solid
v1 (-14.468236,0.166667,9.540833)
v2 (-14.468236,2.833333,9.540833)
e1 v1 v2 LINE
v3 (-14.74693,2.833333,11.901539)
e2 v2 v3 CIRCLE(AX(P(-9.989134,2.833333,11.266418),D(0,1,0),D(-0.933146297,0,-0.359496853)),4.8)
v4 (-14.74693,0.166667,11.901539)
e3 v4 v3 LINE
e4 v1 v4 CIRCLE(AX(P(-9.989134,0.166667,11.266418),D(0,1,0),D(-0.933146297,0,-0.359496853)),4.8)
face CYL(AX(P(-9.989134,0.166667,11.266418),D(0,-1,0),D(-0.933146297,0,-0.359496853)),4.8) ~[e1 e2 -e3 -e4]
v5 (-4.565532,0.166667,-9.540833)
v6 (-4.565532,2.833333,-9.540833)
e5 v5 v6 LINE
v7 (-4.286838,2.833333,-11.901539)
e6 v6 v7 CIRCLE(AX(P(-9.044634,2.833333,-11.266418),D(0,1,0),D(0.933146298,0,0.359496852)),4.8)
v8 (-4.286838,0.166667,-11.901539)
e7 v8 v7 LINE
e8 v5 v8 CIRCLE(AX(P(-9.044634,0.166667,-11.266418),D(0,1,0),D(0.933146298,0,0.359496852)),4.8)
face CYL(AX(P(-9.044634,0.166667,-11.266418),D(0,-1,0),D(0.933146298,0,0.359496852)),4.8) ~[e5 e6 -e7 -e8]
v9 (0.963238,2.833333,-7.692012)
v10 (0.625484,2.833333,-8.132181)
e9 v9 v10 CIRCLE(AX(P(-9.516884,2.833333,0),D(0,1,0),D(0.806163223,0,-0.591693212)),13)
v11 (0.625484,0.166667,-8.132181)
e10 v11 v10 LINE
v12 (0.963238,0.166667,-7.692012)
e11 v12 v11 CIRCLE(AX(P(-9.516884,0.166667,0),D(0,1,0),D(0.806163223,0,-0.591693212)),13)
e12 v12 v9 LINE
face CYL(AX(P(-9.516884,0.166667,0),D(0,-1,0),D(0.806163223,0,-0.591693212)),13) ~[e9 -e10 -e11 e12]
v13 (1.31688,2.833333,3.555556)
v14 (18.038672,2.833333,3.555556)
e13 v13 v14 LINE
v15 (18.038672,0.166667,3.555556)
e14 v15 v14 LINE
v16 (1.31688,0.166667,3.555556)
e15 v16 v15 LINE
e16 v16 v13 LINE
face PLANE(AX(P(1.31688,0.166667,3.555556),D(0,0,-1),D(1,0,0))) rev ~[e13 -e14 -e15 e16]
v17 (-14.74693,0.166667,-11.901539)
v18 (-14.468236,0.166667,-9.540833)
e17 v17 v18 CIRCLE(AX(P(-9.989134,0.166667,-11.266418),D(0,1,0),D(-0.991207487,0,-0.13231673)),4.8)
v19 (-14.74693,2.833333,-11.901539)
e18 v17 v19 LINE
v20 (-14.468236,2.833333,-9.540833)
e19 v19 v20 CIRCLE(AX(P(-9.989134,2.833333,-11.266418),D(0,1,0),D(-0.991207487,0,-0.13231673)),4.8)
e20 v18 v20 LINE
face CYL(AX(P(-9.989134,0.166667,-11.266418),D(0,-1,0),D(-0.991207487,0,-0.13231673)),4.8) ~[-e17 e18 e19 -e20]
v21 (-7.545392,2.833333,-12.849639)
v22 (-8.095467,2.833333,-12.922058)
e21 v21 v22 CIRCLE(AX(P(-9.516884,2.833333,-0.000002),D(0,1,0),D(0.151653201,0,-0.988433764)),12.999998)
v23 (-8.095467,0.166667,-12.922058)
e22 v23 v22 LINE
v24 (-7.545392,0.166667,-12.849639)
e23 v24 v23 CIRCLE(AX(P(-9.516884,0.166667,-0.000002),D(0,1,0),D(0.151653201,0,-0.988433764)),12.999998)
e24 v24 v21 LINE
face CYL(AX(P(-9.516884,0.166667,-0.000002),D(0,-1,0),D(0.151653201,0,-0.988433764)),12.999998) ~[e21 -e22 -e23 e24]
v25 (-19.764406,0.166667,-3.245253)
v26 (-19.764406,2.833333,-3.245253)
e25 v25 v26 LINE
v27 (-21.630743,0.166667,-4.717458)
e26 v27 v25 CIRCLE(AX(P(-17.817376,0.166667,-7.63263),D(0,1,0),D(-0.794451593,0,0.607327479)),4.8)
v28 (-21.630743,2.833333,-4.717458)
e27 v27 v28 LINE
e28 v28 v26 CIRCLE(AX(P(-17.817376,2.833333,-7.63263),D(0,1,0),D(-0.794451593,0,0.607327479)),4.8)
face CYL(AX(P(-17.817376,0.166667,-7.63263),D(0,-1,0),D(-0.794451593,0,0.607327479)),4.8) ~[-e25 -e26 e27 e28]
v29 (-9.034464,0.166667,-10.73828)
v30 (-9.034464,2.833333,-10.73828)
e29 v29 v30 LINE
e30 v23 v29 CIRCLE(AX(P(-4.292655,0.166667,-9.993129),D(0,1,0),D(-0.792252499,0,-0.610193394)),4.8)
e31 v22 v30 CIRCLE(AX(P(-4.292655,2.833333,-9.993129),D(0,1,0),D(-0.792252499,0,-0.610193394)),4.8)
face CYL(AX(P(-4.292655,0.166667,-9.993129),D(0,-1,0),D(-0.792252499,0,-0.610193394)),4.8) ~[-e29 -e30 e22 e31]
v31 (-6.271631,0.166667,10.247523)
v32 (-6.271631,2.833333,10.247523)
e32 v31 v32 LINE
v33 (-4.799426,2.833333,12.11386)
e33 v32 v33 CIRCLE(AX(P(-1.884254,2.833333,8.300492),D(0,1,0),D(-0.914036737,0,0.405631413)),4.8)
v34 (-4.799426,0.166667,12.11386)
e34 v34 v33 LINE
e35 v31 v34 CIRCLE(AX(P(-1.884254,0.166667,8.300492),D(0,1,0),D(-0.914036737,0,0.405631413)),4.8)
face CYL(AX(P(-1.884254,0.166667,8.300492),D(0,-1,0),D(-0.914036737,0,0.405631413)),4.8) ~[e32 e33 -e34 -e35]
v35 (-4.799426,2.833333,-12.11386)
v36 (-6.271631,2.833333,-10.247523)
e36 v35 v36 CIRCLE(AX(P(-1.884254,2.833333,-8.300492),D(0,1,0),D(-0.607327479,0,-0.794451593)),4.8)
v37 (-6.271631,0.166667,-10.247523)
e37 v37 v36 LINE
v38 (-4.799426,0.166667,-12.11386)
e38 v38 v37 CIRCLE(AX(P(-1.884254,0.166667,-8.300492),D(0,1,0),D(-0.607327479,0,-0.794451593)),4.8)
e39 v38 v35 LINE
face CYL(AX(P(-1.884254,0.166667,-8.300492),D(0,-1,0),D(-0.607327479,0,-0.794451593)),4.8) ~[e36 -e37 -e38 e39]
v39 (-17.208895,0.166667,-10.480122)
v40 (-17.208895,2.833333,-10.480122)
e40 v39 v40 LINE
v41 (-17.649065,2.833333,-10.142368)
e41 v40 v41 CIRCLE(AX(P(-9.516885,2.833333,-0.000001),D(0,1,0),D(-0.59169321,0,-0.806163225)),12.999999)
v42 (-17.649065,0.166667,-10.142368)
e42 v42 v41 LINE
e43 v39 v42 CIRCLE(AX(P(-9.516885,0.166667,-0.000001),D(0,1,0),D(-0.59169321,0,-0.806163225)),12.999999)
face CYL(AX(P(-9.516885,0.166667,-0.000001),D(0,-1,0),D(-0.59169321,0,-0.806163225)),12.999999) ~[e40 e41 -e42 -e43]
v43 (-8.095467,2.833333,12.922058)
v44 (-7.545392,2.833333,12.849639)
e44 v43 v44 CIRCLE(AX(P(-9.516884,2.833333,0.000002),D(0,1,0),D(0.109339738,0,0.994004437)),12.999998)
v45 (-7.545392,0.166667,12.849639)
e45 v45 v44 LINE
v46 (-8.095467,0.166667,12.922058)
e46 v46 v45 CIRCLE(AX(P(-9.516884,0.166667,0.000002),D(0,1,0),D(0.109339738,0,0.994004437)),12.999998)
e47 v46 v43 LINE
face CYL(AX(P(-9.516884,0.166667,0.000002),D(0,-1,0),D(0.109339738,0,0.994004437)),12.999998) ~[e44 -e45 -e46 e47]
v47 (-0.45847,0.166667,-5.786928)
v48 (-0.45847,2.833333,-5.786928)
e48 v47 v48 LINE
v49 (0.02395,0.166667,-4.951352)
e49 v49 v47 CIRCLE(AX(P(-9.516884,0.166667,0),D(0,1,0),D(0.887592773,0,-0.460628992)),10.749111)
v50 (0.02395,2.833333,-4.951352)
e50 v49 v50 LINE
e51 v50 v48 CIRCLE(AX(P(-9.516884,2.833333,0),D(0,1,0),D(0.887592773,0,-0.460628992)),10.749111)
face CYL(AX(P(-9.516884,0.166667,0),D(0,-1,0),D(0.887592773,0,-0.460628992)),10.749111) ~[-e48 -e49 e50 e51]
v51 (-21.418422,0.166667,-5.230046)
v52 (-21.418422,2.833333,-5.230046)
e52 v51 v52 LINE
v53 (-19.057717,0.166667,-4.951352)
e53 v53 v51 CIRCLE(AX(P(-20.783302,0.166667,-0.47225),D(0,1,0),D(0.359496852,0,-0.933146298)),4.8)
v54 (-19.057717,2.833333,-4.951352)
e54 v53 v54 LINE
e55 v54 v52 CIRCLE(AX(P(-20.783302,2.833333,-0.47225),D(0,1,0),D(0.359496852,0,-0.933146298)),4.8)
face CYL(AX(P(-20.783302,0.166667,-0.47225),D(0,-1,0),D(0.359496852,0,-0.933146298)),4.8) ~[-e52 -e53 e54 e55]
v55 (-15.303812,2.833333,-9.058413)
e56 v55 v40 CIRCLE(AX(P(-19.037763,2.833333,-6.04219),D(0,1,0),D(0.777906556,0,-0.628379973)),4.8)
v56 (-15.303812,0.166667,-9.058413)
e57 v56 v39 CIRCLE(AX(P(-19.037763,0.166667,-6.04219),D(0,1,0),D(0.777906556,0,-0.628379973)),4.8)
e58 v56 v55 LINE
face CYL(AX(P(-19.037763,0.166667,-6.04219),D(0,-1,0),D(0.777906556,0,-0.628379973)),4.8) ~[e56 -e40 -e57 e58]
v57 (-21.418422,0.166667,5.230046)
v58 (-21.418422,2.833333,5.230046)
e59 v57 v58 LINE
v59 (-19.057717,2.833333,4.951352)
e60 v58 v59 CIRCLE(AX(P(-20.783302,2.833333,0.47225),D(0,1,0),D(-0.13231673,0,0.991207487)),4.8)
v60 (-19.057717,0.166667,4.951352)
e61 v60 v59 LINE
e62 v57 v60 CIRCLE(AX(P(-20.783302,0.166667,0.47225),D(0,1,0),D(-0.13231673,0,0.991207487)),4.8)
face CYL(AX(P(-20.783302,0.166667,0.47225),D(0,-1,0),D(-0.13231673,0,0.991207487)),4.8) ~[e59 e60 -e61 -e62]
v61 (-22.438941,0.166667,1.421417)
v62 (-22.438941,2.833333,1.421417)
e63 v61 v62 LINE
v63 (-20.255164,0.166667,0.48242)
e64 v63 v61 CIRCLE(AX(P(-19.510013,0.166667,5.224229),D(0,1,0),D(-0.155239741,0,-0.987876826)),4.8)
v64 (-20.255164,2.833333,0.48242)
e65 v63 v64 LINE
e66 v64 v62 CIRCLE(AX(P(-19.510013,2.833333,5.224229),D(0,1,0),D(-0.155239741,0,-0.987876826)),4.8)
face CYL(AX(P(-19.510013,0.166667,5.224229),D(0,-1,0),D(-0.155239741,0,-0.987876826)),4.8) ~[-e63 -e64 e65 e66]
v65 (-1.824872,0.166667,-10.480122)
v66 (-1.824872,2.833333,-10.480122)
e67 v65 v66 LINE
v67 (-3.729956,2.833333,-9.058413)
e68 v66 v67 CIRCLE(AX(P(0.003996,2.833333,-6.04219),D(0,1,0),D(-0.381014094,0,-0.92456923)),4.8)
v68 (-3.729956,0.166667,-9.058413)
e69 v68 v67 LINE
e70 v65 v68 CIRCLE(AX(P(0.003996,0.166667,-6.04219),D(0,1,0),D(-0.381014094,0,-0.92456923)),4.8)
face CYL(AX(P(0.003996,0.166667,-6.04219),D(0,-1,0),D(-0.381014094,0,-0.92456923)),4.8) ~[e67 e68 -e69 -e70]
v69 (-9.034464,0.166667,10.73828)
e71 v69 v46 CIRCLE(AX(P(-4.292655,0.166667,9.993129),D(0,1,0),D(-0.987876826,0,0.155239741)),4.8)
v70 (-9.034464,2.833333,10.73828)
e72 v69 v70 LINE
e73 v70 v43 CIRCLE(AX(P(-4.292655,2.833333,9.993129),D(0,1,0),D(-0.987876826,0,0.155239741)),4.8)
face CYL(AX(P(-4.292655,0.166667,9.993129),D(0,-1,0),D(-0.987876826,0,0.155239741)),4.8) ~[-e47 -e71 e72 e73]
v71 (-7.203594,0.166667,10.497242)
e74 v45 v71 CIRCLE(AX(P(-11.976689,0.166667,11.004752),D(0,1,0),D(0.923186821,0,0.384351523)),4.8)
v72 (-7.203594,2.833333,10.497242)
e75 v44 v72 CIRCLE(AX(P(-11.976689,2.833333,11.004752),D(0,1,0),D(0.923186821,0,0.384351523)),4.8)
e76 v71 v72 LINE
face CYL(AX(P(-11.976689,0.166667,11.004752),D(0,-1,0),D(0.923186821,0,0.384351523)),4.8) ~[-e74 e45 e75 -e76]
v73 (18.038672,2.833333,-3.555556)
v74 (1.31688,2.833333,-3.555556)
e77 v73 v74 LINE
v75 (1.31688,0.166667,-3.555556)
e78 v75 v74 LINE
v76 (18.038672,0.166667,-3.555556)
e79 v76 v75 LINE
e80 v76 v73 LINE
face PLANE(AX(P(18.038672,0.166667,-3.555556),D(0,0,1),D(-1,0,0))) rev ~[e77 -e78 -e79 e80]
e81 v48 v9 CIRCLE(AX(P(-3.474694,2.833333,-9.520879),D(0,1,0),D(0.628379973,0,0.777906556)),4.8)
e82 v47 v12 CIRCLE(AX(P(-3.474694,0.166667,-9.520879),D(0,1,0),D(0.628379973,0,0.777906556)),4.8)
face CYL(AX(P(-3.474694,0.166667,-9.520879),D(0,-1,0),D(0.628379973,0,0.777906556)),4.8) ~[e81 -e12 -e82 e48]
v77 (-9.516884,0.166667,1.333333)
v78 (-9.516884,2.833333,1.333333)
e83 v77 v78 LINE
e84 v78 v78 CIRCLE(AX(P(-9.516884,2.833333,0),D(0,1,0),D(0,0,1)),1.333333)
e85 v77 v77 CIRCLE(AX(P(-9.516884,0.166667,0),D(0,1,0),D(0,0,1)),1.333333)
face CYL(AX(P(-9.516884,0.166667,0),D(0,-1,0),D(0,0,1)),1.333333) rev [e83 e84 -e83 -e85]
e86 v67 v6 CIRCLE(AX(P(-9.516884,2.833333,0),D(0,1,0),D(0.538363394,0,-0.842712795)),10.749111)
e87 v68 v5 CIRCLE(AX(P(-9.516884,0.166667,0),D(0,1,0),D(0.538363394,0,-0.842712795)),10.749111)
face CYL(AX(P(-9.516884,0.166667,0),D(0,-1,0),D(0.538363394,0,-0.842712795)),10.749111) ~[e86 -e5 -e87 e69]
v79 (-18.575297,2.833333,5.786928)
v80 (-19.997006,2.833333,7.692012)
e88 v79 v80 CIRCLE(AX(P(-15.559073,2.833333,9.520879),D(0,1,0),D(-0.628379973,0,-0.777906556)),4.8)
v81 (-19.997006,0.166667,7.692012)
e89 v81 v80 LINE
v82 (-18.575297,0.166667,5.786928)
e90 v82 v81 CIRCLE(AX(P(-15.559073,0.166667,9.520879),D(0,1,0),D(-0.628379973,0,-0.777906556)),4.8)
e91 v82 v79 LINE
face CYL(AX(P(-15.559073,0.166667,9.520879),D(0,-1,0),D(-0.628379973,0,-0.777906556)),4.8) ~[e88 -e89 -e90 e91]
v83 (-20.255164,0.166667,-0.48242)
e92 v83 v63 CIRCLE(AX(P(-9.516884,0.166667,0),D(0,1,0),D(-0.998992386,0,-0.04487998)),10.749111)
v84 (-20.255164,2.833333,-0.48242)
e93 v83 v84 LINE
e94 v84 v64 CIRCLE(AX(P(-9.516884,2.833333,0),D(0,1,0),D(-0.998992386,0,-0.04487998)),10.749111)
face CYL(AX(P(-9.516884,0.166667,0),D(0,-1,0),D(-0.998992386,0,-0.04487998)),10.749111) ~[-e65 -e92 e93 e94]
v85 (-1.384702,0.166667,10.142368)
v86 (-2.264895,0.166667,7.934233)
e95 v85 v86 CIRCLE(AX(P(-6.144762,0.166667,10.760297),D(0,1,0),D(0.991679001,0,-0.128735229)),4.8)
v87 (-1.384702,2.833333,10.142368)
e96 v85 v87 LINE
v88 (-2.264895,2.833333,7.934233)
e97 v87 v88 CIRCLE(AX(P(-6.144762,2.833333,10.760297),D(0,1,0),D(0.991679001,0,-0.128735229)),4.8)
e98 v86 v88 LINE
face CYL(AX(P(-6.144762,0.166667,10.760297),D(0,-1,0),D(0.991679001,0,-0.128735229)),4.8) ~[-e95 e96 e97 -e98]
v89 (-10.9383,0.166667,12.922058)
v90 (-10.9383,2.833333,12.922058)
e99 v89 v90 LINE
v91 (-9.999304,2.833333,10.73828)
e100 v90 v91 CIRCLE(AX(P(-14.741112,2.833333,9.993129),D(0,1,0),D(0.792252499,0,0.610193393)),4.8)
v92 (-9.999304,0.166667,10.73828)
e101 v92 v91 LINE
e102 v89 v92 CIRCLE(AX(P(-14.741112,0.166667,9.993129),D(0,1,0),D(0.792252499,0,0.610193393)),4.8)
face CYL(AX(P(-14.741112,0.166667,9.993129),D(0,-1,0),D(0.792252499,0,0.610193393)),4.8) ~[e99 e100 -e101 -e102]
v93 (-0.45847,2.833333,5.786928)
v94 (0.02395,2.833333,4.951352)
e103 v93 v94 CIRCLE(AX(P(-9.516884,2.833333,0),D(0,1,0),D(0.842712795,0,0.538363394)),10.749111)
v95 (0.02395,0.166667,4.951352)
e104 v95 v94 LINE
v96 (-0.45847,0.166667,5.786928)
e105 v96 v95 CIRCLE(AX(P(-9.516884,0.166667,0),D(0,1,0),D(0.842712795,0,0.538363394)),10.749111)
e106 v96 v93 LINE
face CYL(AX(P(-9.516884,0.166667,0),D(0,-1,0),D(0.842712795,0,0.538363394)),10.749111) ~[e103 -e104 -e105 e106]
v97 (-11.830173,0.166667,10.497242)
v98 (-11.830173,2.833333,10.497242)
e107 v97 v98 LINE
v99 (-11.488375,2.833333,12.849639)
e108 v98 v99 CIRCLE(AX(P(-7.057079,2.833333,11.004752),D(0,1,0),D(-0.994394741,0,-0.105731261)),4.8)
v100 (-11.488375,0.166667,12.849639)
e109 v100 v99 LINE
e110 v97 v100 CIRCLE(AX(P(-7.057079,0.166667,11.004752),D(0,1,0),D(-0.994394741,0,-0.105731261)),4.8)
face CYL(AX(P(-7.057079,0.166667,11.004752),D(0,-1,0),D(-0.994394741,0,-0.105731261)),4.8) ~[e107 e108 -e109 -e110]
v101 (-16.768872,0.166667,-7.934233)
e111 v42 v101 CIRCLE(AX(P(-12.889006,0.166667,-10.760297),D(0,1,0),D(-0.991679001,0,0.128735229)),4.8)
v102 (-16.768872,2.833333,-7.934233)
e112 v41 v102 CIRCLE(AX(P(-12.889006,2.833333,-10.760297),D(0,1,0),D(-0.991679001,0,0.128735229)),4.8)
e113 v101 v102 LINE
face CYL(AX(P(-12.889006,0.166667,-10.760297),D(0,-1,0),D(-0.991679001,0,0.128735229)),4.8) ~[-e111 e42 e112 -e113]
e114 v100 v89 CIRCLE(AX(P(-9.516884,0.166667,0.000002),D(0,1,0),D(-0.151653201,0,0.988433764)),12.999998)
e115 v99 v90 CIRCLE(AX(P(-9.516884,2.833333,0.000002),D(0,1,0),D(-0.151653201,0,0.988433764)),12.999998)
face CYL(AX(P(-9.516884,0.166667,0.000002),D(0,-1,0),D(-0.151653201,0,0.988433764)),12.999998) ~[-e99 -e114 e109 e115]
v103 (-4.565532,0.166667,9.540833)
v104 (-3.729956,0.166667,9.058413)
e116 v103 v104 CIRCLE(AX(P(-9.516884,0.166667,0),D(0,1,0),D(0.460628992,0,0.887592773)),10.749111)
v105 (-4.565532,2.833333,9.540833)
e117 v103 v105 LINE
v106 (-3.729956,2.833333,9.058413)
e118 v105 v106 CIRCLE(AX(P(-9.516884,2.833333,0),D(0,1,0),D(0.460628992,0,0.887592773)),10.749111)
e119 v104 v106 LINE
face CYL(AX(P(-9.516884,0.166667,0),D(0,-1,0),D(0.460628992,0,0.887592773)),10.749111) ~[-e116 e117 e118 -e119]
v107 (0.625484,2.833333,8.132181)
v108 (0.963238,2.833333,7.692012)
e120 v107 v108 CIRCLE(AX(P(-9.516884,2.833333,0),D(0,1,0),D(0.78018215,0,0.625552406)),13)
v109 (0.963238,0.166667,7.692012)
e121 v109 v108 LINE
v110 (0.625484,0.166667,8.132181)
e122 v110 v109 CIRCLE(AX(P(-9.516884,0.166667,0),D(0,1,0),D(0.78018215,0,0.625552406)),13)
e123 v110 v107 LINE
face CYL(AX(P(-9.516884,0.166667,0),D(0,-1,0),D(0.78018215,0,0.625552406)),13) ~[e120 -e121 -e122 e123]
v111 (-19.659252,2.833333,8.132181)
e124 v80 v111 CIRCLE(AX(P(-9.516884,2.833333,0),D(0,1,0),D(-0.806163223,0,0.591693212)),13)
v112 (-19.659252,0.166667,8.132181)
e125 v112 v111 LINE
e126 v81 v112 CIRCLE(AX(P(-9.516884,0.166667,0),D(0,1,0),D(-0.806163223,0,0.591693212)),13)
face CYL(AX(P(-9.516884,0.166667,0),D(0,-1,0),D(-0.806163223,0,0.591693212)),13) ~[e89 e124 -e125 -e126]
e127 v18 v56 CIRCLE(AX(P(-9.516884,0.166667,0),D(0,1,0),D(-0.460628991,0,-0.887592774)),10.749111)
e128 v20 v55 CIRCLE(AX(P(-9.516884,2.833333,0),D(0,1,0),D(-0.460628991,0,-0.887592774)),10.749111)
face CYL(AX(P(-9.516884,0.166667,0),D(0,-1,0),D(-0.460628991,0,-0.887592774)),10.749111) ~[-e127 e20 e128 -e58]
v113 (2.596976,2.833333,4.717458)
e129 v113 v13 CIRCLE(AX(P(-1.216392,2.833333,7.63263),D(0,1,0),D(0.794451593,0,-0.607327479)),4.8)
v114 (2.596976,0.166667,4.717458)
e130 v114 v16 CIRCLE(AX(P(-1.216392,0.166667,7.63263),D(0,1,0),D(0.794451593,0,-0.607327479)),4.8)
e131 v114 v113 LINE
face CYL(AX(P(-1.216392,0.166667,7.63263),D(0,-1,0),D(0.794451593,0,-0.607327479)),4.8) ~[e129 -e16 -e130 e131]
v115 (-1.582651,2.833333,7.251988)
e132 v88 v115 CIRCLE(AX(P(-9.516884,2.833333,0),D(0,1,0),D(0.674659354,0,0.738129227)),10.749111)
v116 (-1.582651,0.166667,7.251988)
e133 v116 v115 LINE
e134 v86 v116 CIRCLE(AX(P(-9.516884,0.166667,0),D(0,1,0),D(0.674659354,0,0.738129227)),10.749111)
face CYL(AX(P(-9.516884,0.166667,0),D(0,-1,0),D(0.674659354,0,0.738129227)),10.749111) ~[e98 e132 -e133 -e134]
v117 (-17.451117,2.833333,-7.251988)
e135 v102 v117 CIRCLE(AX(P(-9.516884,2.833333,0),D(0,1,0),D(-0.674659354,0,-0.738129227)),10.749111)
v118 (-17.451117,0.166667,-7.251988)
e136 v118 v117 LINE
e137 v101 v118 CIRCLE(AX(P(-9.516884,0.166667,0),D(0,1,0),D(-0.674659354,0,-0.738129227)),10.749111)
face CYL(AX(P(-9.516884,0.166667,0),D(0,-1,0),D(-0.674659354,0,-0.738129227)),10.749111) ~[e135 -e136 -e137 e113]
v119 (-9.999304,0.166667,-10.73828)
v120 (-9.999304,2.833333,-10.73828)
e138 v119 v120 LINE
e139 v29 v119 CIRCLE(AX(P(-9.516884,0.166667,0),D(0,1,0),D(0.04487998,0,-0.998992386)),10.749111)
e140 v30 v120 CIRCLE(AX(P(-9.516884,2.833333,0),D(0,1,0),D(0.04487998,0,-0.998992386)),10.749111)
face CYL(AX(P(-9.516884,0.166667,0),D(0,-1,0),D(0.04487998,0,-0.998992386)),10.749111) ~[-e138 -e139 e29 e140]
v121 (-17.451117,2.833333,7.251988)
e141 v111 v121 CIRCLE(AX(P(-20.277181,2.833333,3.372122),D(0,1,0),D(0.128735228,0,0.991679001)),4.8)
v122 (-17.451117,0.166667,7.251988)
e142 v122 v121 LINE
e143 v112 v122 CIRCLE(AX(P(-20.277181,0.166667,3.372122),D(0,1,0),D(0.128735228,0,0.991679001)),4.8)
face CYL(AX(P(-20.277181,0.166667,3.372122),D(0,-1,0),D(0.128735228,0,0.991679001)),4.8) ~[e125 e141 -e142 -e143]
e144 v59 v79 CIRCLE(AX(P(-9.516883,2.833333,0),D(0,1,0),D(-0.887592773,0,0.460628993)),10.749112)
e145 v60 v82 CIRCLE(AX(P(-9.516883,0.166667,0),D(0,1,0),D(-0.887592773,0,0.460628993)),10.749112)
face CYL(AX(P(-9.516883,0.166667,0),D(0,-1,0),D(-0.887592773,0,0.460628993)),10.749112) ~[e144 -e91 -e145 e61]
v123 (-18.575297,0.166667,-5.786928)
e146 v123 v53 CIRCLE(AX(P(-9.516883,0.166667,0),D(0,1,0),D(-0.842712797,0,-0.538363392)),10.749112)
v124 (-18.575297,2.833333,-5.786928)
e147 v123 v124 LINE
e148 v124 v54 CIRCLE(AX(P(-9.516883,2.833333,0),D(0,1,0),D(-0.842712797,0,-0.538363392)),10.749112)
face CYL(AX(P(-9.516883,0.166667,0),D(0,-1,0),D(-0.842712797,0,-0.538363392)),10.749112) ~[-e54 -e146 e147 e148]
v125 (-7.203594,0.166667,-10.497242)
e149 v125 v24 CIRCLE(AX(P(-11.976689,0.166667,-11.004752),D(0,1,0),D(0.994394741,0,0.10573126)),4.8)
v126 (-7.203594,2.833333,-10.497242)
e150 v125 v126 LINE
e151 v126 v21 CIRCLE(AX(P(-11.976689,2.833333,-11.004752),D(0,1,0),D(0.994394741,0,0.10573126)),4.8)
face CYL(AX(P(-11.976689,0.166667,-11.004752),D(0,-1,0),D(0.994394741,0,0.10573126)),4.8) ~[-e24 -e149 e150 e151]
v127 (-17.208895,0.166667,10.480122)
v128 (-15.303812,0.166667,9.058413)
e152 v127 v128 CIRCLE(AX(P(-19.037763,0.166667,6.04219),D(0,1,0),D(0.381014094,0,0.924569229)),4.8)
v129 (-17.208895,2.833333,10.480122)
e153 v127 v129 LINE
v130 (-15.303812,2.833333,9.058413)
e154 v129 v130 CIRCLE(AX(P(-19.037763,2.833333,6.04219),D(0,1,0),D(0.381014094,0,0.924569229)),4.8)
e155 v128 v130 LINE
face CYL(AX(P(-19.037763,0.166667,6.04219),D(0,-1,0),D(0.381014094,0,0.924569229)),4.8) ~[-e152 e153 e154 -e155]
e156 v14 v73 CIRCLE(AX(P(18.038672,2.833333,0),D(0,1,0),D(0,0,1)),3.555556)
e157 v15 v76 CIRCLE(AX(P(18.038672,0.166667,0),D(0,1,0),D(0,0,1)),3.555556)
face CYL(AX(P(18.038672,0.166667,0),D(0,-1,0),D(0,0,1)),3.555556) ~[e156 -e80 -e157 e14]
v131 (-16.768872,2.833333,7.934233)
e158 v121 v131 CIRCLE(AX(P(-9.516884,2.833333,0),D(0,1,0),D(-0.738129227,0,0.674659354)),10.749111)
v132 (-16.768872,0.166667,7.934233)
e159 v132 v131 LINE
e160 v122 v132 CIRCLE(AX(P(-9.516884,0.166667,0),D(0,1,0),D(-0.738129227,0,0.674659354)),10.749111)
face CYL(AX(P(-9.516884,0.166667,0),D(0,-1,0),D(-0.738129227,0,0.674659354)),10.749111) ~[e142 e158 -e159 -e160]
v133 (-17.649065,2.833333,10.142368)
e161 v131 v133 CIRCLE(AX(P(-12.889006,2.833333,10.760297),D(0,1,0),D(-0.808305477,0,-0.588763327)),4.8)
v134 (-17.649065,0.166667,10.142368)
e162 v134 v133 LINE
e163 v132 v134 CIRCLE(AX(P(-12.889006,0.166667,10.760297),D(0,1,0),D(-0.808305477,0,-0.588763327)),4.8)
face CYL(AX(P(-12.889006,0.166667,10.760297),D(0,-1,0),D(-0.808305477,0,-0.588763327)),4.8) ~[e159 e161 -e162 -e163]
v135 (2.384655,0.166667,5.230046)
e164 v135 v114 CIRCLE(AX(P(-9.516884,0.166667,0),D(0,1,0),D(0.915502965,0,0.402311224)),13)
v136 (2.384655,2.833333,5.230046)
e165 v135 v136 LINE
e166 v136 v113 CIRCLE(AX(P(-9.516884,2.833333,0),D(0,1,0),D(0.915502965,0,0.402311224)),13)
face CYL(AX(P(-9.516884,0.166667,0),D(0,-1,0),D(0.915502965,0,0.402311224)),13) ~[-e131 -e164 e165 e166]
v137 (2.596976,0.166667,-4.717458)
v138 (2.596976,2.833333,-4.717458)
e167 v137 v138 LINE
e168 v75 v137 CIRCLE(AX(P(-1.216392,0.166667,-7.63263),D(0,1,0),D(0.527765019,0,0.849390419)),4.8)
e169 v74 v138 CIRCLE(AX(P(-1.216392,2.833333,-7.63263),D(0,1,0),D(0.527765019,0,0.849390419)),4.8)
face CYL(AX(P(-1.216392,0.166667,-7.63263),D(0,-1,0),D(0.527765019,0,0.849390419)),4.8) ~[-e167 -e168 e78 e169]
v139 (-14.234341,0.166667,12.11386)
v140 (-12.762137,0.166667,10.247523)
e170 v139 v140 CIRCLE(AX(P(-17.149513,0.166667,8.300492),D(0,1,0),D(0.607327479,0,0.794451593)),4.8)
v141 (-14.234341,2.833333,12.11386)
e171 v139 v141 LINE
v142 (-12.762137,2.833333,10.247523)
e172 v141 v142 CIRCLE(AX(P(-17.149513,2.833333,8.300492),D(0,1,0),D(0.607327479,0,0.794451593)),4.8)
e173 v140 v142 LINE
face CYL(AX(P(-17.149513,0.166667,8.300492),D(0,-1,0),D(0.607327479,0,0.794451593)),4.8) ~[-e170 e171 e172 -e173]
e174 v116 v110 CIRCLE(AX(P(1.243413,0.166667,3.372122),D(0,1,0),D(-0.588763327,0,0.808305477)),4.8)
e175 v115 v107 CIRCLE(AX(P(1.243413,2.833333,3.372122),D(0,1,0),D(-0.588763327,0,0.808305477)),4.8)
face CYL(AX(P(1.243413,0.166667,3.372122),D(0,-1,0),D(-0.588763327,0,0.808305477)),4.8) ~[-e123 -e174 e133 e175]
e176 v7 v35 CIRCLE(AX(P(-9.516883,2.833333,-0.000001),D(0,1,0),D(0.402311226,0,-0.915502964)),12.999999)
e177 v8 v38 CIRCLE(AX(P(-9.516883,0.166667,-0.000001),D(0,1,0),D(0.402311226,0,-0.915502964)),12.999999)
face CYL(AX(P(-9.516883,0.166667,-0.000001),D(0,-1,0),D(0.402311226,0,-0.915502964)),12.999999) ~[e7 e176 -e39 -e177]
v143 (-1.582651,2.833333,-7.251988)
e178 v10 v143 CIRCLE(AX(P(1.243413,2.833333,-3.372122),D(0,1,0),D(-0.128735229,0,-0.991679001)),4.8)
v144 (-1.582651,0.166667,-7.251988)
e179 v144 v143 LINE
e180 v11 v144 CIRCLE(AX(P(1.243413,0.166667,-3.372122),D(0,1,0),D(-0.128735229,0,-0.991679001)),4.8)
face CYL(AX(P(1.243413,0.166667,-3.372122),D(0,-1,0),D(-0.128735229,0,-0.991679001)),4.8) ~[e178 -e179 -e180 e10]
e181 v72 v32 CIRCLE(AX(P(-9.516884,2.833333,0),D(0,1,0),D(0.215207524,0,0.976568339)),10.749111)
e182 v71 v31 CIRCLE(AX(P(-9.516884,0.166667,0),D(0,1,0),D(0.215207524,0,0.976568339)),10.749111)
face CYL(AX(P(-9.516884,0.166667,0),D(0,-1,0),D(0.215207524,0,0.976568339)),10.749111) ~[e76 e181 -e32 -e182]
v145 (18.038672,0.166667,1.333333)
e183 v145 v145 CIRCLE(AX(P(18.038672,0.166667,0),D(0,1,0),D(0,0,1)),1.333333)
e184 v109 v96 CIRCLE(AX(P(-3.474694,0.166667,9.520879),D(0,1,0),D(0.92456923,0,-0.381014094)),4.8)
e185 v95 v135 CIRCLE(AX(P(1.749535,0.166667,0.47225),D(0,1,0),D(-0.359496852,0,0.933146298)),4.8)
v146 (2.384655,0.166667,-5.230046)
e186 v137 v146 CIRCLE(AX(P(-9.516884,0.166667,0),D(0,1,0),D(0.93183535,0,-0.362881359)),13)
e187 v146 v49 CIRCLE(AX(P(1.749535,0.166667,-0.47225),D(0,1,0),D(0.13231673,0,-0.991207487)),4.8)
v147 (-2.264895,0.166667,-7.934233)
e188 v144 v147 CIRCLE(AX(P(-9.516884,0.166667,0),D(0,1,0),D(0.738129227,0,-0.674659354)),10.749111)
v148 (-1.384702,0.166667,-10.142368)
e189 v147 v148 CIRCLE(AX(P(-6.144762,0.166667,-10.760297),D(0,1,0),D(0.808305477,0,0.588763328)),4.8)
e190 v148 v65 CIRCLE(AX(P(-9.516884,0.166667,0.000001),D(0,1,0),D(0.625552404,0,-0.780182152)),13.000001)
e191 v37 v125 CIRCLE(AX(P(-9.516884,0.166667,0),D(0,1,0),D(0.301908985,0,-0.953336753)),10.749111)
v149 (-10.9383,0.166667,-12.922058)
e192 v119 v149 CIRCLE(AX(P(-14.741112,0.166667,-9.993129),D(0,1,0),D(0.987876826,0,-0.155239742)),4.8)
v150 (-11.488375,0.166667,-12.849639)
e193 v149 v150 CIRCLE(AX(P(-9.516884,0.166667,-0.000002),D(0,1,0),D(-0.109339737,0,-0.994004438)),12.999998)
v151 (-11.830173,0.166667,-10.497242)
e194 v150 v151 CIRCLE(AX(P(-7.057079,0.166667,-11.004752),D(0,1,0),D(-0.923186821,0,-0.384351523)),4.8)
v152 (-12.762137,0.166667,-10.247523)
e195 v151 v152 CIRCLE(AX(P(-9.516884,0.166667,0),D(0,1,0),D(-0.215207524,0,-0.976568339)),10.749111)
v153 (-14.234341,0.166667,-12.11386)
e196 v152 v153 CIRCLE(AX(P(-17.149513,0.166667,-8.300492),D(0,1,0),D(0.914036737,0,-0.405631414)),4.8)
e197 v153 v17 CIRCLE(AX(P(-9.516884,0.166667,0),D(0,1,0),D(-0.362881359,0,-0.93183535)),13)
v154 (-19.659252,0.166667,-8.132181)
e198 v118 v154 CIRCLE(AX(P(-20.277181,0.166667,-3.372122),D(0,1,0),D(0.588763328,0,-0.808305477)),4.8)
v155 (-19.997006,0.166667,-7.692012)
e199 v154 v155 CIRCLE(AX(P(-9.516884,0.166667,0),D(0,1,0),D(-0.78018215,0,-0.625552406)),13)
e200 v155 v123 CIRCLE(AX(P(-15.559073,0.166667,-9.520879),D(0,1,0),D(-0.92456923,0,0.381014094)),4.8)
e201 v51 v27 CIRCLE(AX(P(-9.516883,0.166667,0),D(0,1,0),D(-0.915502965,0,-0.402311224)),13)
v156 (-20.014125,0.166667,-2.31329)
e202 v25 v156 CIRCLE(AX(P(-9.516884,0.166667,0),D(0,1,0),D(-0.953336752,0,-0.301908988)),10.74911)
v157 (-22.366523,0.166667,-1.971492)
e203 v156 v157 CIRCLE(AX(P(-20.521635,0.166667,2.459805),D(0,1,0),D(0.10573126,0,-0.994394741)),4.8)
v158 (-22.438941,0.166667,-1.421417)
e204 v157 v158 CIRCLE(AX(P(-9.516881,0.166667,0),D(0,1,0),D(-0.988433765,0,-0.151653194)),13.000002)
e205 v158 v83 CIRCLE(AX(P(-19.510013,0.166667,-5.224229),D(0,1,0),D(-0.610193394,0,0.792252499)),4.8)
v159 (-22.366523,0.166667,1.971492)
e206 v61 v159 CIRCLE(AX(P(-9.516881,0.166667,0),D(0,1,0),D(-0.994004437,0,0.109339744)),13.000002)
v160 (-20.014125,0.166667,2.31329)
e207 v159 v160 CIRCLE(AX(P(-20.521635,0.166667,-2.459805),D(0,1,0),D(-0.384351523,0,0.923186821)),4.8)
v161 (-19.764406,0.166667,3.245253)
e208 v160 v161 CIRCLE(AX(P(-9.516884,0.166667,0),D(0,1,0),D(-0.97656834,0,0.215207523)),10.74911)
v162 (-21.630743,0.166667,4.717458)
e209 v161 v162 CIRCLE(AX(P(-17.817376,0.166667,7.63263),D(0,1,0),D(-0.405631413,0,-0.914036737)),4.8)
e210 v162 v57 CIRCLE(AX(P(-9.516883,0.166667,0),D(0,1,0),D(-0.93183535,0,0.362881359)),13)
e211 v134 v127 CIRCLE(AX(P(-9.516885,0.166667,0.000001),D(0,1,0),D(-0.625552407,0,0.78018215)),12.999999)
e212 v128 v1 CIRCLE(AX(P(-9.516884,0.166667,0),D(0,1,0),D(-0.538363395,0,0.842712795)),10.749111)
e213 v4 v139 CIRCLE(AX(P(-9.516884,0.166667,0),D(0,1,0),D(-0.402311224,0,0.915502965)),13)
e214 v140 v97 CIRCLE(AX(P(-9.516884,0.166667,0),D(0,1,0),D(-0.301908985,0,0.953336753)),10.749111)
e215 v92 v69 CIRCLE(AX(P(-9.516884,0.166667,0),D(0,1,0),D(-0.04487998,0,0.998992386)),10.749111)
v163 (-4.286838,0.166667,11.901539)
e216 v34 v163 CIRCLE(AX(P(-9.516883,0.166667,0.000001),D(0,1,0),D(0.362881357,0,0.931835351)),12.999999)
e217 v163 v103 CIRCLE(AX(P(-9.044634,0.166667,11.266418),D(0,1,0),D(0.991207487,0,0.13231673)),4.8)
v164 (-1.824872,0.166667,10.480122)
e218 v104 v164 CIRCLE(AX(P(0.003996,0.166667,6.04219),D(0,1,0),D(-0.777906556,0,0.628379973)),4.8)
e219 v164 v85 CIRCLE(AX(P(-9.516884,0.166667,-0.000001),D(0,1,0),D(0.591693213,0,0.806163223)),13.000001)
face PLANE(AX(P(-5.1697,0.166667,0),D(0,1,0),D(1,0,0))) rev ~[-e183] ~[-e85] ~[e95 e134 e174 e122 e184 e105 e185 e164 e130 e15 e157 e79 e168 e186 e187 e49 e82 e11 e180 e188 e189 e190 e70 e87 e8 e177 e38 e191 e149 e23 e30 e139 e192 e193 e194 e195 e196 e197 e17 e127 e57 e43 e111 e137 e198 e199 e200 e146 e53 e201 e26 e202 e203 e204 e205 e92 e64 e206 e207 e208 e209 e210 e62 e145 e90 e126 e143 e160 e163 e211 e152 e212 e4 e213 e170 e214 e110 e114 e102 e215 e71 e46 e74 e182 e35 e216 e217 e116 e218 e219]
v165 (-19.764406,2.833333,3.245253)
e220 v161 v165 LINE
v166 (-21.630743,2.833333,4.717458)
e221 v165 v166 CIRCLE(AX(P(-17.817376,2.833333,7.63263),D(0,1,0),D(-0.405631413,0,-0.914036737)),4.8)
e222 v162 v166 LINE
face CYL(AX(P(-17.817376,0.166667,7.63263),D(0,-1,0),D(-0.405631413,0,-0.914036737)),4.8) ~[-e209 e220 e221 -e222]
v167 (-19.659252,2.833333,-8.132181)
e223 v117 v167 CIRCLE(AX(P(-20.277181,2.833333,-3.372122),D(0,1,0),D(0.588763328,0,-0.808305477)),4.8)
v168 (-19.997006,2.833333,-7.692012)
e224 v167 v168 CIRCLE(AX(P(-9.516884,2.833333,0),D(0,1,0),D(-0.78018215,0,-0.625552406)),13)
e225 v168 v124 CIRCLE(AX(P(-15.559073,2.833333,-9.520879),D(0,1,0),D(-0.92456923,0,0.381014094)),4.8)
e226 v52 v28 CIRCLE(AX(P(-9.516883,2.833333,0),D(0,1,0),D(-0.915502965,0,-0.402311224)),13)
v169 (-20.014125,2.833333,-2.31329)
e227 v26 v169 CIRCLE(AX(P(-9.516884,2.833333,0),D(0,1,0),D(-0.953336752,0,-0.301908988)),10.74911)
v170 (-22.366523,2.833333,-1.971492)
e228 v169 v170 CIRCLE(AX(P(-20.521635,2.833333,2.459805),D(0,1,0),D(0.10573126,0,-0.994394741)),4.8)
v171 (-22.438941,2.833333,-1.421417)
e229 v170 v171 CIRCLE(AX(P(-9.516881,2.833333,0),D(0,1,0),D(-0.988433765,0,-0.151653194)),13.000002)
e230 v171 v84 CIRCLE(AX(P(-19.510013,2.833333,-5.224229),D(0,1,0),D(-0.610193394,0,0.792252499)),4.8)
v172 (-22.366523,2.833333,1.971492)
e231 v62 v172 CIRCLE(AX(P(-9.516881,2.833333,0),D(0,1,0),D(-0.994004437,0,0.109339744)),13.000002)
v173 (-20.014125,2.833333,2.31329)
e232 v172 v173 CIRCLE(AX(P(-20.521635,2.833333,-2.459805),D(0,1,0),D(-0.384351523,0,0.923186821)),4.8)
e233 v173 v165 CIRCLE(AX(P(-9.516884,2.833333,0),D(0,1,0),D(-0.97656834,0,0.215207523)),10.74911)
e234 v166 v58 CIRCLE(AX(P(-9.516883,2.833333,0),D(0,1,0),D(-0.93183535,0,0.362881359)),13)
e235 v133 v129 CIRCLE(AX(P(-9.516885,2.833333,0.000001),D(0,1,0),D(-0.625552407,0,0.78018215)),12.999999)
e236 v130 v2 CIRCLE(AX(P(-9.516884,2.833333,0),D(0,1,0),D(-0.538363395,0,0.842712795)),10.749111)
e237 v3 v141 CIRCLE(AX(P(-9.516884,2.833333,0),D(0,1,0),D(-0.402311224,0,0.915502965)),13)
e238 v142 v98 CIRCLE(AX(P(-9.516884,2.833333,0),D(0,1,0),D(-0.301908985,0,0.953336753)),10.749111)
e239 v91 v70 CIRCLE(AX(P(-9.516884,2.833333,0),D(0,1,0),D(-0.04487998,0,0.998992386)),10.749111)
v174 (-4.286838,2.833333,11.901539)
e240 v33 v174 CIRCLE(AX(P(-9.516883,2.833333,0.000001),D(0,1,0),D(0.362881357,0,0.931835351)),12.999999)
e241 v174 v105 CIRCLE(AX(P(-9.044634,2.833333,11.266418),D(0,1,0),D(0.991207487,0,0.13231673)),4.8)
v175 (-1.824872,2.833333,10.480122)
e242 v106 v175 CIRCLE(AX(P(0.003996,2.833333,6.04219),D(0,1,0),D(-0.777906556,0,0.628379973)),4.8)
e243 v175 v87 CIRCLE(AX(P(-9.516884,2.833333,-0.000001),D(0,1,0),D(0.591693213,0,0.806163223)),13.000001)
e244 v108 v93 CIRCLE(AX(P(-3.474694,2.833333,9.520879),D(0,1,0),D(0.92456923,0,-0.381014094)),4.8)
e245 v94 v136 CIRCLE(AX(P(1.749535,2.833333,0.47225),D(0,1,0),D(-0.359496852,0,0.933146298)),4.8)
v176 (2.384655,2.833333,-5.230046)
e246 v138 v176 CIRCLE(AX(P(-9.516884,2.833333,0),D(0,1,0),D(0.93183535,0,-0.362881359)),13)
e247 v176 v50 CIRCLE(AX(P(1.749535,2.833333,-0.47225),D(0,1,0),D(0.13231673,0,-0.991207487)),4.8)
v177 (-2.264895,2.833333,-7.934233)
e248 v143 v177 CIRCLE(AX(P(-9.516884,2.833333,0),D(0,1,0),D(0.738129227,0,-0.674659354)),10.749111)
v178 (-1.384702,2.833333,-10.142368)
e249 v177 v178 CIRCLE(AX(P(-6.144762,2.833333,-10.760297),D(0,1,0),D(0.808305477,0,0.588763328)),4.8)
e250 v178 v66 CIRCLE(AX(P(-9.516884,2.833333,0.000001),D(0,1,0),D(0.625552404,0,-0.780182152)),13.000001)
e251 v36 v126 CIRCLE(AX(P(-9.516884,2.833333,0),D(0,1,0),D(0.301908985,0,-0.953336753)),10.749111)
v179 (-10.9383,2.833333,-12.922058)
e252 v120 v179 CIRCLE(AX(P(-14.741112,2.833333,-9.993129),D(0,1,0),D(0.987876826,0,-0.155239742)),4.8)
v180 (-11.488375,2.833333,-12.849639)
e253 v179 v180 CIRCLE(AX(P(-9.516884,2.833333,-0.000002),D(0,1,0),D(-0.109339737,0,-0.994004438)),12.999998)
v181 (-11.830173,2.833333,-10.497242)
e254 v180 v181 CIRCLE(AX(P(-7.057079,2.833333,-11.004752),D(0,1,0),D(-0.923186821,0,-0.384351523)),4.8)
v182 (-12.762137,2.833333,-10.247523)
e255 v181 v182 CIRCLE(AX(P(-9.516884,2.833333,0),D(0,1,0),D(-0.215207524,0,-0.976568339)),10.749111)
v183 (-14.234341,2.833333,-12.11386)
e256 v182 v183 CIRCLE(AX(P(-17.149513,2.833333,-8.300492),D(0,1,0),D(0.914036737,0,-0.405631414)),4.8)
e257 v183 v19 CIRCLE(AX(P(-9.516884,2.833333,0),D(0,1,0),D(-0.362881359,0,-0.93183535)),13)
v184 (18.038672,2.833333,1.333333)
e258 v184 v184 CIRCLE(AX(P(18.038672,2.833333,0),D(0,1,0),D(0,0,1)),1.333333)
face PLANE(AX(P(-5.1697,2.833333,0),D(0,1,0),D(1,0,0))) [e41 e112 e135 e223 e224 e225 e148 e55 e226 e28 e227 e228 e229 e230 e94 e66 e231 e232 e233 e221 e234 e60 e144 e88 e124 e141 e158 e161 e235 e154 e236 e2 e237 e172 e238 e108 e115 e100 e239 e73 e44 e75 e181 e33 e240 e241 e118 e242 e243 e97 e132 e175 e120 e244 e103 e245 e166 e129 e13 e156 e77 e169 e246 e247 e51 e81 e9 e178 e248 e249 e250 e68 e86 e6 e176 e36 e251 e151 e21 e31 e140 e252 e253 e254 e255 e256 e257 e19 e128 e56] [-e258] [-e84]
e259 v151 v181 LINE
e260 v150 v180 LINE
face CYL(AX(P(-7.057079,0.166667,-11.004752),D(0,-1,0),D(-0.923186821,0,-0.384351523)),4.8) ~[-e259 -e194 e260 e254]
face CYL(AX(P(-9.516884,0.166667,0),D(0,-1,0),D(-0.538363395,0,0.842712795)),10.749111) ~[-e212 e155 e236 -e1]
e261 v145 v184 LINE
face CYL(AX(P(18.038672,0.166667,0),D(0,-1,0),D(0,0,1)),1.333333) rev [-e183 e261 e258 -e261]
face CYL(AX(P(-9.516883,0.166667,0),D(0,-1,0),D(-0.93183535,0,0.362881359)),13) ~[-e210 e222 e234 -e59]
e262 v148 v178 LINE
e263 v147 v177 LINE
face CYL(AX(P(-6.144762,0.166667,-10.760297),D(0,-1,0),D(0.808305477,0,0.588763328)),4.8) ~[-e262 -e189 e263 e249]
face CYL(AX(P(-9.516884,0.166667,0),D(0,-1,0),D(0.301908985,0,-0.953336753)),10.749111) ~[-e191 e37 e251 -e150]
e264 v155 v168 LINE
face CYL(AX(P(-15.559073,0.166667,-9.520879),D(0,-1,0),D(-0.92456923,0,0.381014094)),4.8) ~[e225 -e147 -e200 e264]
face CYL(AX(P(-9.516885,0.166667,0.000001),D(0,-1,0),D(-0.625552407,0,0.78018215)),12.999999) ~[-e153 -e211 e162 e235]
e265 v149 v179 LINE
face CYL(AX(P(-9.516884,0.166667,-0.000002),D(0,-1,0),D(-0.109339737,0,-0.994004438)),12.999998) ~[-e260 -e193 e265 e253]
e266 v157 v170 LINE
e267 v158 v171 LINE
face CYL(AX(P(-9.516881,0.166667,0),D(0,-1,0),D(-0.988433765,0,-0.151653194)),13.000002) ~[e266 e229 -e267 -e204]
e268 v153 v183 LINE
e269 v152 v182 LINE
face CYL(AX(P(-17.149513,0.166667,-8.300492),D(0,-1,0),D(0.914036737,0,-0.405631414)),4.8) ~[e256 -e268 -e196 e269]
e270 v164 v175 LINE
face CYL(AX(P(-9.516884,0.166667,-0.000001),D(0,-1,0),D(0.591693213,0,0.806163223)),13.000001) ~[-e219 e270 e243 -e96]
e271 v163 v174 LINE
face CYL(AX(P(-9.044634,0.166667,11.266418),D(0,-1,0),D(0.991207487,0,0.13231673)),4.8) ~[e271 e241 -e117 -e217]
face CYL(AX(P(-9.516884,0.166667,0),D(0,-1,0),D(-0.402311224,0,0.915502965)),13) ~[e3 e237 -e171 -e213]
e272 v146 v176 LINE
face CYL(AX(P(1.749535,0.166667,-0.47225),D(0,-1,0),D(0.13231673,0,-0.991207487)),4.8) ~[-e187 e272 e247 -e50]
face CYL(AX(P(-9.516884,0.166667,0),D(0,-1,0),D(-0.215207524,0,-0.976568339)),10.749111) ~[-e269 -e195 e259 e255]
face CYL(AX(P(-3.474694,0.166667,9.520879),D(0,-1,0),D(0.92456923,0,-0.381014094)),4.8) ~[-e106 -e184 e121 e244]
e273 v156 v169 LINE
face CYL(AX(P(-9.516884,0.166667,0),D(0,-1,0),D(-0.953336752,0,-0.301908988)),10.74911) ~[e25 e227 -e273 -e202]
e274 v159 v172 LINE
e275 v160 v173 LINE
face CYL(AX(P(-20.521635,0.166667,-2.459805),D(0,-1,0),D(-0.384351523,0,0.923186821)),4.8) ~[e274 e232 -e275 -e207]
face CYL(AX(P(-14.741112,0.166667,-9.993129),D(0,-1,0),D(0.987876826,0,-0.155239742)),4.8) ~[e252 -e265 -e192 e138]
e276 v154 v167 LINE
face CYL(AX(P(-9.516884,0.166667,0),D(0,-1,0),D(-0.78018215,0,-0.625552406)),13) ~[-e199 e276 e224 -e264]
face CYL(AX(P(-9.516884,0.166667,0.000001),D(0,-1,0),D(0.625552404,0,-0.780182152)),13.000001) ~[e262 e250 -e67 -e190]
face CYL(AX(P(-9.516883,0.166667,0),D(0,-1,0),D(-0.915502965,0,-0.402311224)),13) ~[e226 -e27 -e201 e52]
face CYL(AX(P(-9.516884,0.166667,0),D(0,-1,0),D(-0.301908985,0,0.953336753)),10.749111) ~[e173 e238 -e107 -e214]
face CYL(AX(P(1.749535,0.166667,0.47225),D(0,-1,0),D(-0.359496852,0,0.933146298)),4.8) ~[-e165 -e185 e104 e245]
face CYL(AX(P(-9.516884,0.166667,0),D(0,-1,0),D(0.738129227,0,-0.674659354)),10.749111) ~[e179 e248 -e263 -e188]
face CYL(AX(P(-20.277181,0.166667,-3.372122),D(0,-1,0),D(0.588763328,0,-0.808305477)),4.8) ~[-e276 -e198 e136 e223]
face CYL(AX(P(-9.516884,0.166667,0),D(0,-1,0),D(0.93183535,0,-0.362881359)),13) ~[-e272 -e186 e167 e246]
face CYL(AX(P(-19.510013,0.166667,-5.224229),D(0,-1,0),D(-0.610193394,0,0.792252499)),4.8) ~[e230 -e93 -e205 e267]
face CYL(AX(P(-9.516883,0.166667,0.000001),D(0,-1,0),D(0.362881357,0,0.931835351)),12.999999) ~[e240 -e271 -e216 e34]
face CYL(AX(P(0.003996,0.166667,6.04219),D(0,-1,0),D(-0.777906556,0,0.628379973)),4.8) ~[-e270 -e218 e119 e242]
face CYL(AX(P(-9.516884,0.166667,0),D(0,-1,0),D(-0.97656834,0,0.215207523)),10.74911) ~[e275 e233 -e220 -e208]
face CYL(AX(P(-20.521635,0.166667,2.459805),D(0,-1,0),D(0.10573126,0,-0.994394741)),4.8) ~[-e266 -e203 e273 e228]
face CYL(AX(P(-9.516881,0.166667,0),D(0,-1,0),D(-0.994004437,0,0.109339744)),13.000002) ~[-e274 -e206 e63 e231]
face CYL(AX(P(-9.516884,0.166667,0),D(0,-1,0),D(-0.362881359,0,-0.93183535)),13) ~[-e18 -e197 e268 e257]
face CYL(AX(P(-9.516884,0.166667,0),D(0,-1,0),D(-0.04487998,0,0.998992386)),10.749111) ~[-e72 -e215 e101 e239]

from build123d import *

# Parameters (mm, degrees)
SKETCH1_R           = 1.5
BOSS_EXTRUDE1_DEPTH = 3
SCALE1_SCALE        = 0.888888889


with BuildPart() as part:
    # Sketch1 → Boss-Extrude1 (new body)
    with BuildSketch(Plane(origin=(0, 0, 0), x_dir=(1, 0, 0), z_dir=(0, 1, 0))):
        with BuildLine():
            Line((20.893657446, 4), (2.081641936, 4))
            ThreePointArc((2.081641936, 4), (2.861028333, 4.588201733), (3.521749436, 5.30713988))
            ThreePointArc((3.521749436, 5.30713988), (3.405395609, 5.596745198), (3.282888305, 5.883801663))
            ThreePointArc((3.282888305, 5.883801663), (1.93527598, 5.894040025), (0.627094961, 5.57027124))
            ThreePointArc((0.627094961, 5.57027124), (0.366286148, 6.046375), (0.084372603, 6.510293938))
            ThreePointArc((0.084372603, 6.510293938), (1.018855105, 7.48132754), (1.683794586, 8.65351323))
            ThreePointArc((1.683794586, 8.65351323), (1.496450048, 8.903135899), (1.303821399, 9.148703928))
            ThreePointArc((1.303821399, 9.148703928), (-0.000522033, 8.809805691), (-1.180330337, 8.158486898))
            ThreePointArc((-1.180330337, 8.158486898), (-1.555477026, 8.550865528), (-1.947855656, 8.926012217))
            ThreePointArc((-1.947855656, 8.926012217), (-1.296536862, 10.105820521), (-0.957638625, 11.410163953))
            ThreePointArc((-0.957638625, 11.410163953), (-1.203206655, 11.602792602), (-1.452829324, 11.79013714))
            ThreePointArc((-1.452829324, 11.79013714), (-2.625015014, 11.125197659), (-3.596048616, 10.190715157))
            ThreePointArc((-3.596048616, 10.190715157), (-4.059967554, 10.472628702), (-4.536071314, 10.733437515))
            ThreePointArc((-4.536071314, 10.733437515), (-4.212302529, 12.041618533), (-4.222540891, 13.389230859))
            ThreePointArc((-4.222540891, 13.389230859), (-4.509597355, 13.511738163), (-4.799202674, 13.62809199))
            ThreePointArc((-4.799202674, 13.62809199), (-5.759348103, 12.682425791), (-6.455432668, 11.528463019))
            ThreePointArc((-6.455432668, 11.528463019), (-6.976508546, 11.680699536), (-7.503891752, 11.809396783))
            ThreePointArc((-7.503891752, 11.809396783), (-7.529737283, 13.156800143), (-7.888414517, 14.455843809))
            ThreePointArc((-7.888414517, 14.455843809), (-8.197396993, 14.499881098), (-8.507248835, 14.537314892))
            ThreePointArc((-8.507248835, 14.537314892), (-9.18992168, 13.375367565), (-9.563620196, 12.080565177))
            ThreePointArc((-9.563620196, 12.080565177), (-10.106342554, 12.09275), (-10.649064912, 12.080565177))
            ThreePointArc((-10.649064912, 12.080565177), (-11.022763428, 13.375367565), (-11.705436272, 14.537314892))
            ThreePointArc((-11.705436272, 14.537314892), (-12.015288115, 14.499881098), (-12.324270591, 14.455843809))
            ThreePointArc((-12.324270591, 14.455843809), (-12.682947825, 13.156800143), (-12.708793355, 11.809396783))
            ThreePointArc((-12.708793355, 11.809396783), (-13.236176561, 11.680699536), (-13.757252439, 11.528463019))
            ThreePointArc((-13.757252439, 11.528463019), (-14.453337005, 12.682425791), (-15.413482434, 13.62809199))
            ThreePointArc((-15.413482434, 13.62809199), (-15.703087752, 13.511738163), (-15.990144217, 13.389230859))
            ThreePointArc((-15.990144217, 13.389230859), (-16.000382579, 12.041618533), (-15.676613793, 10.733437515))
            ThreePointArc((-15.676613793, 10.733437515), (-16.152717554, 10.472628702), (-16.616636492, 10.190715157))
            ThreePointArc((-16.616636492, 10.190715157), (-17.587670094, 11.125197659), (-18.759855783, 11.79013714))
            ThreePointArc((-18.759855783, 11.79013714), (-19.009478453, 11.602792602), (-19.255046482, 11.410163953))
            ThreePointArc((-19.255046482, 11.410163953), (-18.916148245, 10.105820521), (-18.264829452, 8.926012217))
            ThreePointArc((-18.264829452, 8.926012217), (-18.657208082, 8.550865528), (-19.032354771, 8.158486898))
            ThreePointArc((-19.032354771, 8.158486898), (-20.212163074, 8.809805691), (-21.516506507, 9.148703928))
            ThreePointArc((-21.516506507, 9.148703928), (-21.709135156, 8.903135899), (-21.896479694, 8.65351323))
            ThreePointArc((-21.896479694, 8.65351323), (-21.231540213, 7.48132754), (-20.297057711, 6.510293938))
            ThreePointArc((-20.297057711, 6.510293938), (-20.578971255, 6.046375), (-20.839780068, 5.57027124))
            ThreePointArc((-20.839780068, 5.57027124), (-22.147961087, 5.894040025), (-23.495573413, 5.883801663))
            ThreePointArc((-23.495573413, 5.883801663), (-23.618080717, 5.596745198), (-23.734434544, 5.30713988))
            ThreePointArc((-23.734434544, 5.30713988), (-22.788768345, 4.346994451), (-21.634805572, 3.650909885))
            ThreePointArc((-21.634805572, 3.650909885), (-21.78704209, 3.129834008), (-21.915739337, 2.602450802))
            ThreePointArc((-21.915739337, 2.602450802), (-23.263142697, 2.576605271), (-24.562186363, 2.217928037))
            ThreePointArc((-24.562186363, 2.217928037), (-24.606223651, 1.908945561), (-24.643657446, 1.599093719))
            ThreePointArc((-24.643657446, 1.599093719), (-23.481710119, 0.916420874), (-22.186907731, 0.542722358))
            ThreePointArc((-22.186907731, 0.542722358), (-22.199092554, 0), (-22.186907731, -0.542722358))
            ThreePointArc((-22.186907731, -0.542722358), (-23.481710119, -0.916420874), (-24.643657446, -1.599093719))
            ThreePointArc((-24.643657446, -1.599093719), (-24.606223651, -1.908945561), (-24.562186363, -2.217928037))
            ThreePointArc((-24.562186363, -2.217928037), (-23.263142697, -2.576605271), (-21.915739337, -2.602450802))
            ThreePointArc((-21.915739337, -2.602450802), (-21.78704209, -3.129834008), (-21.634805572, -3.650909885))
            ThreePointArc((-21.634805572, -3.650909885), (-22.788768345, -4.346994451), (-23.734434544, -5.30713988))
            ThreePointArc((-23.734434544, -5.30713988), (-23.618080717, -5.596745198), (-23.495573413, -5.883801663))
            ThreePointArc((-23.495573413, -5.883801663), (-22.147961087, -5.894040025), (-20.839780068, -5.57027124))
            ThreePointArc((-20.839780068, -5.57027124), (-20.578971255, -6.046375), (-20.297057711, -6.510293938))
            ThreePointArc((-20.297057711, -6.510293938), (-21.231540213, -7.48132754), (-21.896479694, -8.65351323))
            ThreePointArc((-21.896479694, -8.65351323), (-21.709135156, -8.903135899), (-21.516506507, -9.148703928))
            ThreePointArc((-21.516506507, -9.148703928), (-20.212163074, -8.809805691), (-19.032354771, -8.158486898))
            ThreePointArc((-19.032354771, -8.158486898), (-18.657208082, -8.550865528), (-18.264829452, -8.926012217))
            ThreePointArc((-18.264829452, -8.926012217), (-18.916148245, -10.105820521), (-19.255046482, -11.410163953))
            ThreePointArc((-19.255046482, -11.410163953), (-19.009478453, -11.602792602), (-18.759855783, -11.79013714))
            ThreePointArc((-18.759855783, -11.79013714), (-17.587670094, -11.125197659), (-16.616636492, -10.190715157))
            ThreePointArc((-16.616636492, -10.190715157), (-16.152717554, -10.472628702), (-15.676613793, -10.733437515))
            ThreePointArc((-15.676613793, -10.733437515), (-16.000382579, -12.041618533), (-15.990144217, -13.389230859))
            ThreePointArc((-15.990144217, -13.389230859), (-15.703087752, -13.511738163), (-15.413482434, -13.62809199))
            ThreePointArc((-15.413482434, -13.62809199), (-14.453337005, -12.682425791), (-13.757252439, -11.528463019))
            ThreePointArc((-13.757252439, -11.528463019), (-13.236176561, -11.680699536), (-12.708793355, -11.809396783))
            ThreePointArc((-12.708793355, -11.809396783), (-12.682947825, -13.156800143), (-12.324270591, -14.455843809))
            ThreePointArc((-12.324270591, -14.455843809), (-12.015288115, -14.499881098), (-11.705436272, -14.537314892))
            ThreePointArc((-11.705436272, -14.537314892), (-11.022763428, -13.375367565), (-10.649064912, -12.080565177))
            ThreePointArc((-10.649064912, -12.080565177), (-10.106342554, -12.09275), (-9.563620196, -12.080565177))
            ThreePointArc((-9.563620196, -12.080565177), (-9.18992168, -13.375367565), (-8.507248835, -14.537314892))
            ThreePointArc((-8.507248835, -14.537314892), (-8.197396993, -14.499881098), (-7.888414517, -14.455843809))
            ThreePointArc((-7.888414517, -14.455843809), (-7.529737283, -13.156800143), (-7.503891752, -11.809396783))
            ThreePointArc((-7.503891752, -11.809396783), (-6.976508546, -11.680699536), (-6.455432668, -11.528463019))
            ThreePointArc((-6.455432668, -11.528463019), (-5.759348103, -12.682425791), (-4.799202674, -13.62809199))
            ThreePointArc((-4.799202674, -13.62809199), (-4.509597355, -13.511738163), (-4.222540891, -13.389230859))
            ThreePointArc((-4.222540891, -13.389230859), (-4.212302529, -12.041618533), (-4.536071314, -10.733437515))
            ThreePointArc((-4.536071314, -10.733437515), (-4.059967554, -10.472628702), (-3.596048616, -10.190715157))
            ThreePointArc((-3.596048616, -10.190715157), (-2.625015014, -11.125197659), (-1.452829324, -11.79013714))
            ThreePointArc((-1.452829324, -11.79013714), (-1.203206655, -11.602792602), (-0.957638625, -11.410163953))
            ThreePointArc((-0.957638625, -11.410163953), (-1.296536862, -10.105820521), (-1.947855656, -8.926012217))
            ThreePointArc((-1.947855656, -8.926012217), (-1.555477026, -8.550865528), (-1.180330337, -8.158486898))
            ThreePointArc((-1.180330337, -8.158486898), (-0.000522033, -8.809805691), (1.303821399, -9.148703928))
            ThreePointArc((1.303821399, -9.148703928), (1.496450048, -8.903135899), (1.683794586, -8.65351323))
            ThreePointArc((1.683794586, -8.65351323), (1.018855105, -7.48132754), (0.084372603, -6.510293938))
            ThreePointArc((0.084372603, -6.510293938), (0.366286148, -6.046375), (0.627094961, -5.57027124))
            ThreePointArc((0.627094961, -5.57027124), (1.93527598, -5.894040025), (3.282888305, -5.883801663))
            ThreePointArc((3.282888305, -5.883801663), (3.405395609, -5.596745198), (3.521749436, -5.30713988))
            ThreePointArc((3.521749436, -5.30713988), (2.861028333, -4.588201733), (2.081641936, -4))
            Line((2.081641936, -4), (20.893657446, -4))
            ThreePointArc((20.893657446, -4), (24.893657446, 0), (20.893657446, 4))
        make_face()
        with Locations(Location((-10.106342554, 0, 0), (0, 0, 270))):
            Circle(SKETCH1_R, mode=Mode.SUBTRACT)
        with Locations(Location((20.893657446, 0, 0), (0, 0, 270))):
            Circle(SKETCH1_R, mode=Mode.SUBTRACT)
    extrude(amount=BOSS_EXTRUDE1_DEPTH)


with BuildPart() as part_1:
    # Scale1: scaled about (-4.801213178, 1.5, 0)
    add(part.part.scale(SCALE1_SCALE).moved(Location((-0.533468131, 0.166666667, 0))))


solid = part_1.part
